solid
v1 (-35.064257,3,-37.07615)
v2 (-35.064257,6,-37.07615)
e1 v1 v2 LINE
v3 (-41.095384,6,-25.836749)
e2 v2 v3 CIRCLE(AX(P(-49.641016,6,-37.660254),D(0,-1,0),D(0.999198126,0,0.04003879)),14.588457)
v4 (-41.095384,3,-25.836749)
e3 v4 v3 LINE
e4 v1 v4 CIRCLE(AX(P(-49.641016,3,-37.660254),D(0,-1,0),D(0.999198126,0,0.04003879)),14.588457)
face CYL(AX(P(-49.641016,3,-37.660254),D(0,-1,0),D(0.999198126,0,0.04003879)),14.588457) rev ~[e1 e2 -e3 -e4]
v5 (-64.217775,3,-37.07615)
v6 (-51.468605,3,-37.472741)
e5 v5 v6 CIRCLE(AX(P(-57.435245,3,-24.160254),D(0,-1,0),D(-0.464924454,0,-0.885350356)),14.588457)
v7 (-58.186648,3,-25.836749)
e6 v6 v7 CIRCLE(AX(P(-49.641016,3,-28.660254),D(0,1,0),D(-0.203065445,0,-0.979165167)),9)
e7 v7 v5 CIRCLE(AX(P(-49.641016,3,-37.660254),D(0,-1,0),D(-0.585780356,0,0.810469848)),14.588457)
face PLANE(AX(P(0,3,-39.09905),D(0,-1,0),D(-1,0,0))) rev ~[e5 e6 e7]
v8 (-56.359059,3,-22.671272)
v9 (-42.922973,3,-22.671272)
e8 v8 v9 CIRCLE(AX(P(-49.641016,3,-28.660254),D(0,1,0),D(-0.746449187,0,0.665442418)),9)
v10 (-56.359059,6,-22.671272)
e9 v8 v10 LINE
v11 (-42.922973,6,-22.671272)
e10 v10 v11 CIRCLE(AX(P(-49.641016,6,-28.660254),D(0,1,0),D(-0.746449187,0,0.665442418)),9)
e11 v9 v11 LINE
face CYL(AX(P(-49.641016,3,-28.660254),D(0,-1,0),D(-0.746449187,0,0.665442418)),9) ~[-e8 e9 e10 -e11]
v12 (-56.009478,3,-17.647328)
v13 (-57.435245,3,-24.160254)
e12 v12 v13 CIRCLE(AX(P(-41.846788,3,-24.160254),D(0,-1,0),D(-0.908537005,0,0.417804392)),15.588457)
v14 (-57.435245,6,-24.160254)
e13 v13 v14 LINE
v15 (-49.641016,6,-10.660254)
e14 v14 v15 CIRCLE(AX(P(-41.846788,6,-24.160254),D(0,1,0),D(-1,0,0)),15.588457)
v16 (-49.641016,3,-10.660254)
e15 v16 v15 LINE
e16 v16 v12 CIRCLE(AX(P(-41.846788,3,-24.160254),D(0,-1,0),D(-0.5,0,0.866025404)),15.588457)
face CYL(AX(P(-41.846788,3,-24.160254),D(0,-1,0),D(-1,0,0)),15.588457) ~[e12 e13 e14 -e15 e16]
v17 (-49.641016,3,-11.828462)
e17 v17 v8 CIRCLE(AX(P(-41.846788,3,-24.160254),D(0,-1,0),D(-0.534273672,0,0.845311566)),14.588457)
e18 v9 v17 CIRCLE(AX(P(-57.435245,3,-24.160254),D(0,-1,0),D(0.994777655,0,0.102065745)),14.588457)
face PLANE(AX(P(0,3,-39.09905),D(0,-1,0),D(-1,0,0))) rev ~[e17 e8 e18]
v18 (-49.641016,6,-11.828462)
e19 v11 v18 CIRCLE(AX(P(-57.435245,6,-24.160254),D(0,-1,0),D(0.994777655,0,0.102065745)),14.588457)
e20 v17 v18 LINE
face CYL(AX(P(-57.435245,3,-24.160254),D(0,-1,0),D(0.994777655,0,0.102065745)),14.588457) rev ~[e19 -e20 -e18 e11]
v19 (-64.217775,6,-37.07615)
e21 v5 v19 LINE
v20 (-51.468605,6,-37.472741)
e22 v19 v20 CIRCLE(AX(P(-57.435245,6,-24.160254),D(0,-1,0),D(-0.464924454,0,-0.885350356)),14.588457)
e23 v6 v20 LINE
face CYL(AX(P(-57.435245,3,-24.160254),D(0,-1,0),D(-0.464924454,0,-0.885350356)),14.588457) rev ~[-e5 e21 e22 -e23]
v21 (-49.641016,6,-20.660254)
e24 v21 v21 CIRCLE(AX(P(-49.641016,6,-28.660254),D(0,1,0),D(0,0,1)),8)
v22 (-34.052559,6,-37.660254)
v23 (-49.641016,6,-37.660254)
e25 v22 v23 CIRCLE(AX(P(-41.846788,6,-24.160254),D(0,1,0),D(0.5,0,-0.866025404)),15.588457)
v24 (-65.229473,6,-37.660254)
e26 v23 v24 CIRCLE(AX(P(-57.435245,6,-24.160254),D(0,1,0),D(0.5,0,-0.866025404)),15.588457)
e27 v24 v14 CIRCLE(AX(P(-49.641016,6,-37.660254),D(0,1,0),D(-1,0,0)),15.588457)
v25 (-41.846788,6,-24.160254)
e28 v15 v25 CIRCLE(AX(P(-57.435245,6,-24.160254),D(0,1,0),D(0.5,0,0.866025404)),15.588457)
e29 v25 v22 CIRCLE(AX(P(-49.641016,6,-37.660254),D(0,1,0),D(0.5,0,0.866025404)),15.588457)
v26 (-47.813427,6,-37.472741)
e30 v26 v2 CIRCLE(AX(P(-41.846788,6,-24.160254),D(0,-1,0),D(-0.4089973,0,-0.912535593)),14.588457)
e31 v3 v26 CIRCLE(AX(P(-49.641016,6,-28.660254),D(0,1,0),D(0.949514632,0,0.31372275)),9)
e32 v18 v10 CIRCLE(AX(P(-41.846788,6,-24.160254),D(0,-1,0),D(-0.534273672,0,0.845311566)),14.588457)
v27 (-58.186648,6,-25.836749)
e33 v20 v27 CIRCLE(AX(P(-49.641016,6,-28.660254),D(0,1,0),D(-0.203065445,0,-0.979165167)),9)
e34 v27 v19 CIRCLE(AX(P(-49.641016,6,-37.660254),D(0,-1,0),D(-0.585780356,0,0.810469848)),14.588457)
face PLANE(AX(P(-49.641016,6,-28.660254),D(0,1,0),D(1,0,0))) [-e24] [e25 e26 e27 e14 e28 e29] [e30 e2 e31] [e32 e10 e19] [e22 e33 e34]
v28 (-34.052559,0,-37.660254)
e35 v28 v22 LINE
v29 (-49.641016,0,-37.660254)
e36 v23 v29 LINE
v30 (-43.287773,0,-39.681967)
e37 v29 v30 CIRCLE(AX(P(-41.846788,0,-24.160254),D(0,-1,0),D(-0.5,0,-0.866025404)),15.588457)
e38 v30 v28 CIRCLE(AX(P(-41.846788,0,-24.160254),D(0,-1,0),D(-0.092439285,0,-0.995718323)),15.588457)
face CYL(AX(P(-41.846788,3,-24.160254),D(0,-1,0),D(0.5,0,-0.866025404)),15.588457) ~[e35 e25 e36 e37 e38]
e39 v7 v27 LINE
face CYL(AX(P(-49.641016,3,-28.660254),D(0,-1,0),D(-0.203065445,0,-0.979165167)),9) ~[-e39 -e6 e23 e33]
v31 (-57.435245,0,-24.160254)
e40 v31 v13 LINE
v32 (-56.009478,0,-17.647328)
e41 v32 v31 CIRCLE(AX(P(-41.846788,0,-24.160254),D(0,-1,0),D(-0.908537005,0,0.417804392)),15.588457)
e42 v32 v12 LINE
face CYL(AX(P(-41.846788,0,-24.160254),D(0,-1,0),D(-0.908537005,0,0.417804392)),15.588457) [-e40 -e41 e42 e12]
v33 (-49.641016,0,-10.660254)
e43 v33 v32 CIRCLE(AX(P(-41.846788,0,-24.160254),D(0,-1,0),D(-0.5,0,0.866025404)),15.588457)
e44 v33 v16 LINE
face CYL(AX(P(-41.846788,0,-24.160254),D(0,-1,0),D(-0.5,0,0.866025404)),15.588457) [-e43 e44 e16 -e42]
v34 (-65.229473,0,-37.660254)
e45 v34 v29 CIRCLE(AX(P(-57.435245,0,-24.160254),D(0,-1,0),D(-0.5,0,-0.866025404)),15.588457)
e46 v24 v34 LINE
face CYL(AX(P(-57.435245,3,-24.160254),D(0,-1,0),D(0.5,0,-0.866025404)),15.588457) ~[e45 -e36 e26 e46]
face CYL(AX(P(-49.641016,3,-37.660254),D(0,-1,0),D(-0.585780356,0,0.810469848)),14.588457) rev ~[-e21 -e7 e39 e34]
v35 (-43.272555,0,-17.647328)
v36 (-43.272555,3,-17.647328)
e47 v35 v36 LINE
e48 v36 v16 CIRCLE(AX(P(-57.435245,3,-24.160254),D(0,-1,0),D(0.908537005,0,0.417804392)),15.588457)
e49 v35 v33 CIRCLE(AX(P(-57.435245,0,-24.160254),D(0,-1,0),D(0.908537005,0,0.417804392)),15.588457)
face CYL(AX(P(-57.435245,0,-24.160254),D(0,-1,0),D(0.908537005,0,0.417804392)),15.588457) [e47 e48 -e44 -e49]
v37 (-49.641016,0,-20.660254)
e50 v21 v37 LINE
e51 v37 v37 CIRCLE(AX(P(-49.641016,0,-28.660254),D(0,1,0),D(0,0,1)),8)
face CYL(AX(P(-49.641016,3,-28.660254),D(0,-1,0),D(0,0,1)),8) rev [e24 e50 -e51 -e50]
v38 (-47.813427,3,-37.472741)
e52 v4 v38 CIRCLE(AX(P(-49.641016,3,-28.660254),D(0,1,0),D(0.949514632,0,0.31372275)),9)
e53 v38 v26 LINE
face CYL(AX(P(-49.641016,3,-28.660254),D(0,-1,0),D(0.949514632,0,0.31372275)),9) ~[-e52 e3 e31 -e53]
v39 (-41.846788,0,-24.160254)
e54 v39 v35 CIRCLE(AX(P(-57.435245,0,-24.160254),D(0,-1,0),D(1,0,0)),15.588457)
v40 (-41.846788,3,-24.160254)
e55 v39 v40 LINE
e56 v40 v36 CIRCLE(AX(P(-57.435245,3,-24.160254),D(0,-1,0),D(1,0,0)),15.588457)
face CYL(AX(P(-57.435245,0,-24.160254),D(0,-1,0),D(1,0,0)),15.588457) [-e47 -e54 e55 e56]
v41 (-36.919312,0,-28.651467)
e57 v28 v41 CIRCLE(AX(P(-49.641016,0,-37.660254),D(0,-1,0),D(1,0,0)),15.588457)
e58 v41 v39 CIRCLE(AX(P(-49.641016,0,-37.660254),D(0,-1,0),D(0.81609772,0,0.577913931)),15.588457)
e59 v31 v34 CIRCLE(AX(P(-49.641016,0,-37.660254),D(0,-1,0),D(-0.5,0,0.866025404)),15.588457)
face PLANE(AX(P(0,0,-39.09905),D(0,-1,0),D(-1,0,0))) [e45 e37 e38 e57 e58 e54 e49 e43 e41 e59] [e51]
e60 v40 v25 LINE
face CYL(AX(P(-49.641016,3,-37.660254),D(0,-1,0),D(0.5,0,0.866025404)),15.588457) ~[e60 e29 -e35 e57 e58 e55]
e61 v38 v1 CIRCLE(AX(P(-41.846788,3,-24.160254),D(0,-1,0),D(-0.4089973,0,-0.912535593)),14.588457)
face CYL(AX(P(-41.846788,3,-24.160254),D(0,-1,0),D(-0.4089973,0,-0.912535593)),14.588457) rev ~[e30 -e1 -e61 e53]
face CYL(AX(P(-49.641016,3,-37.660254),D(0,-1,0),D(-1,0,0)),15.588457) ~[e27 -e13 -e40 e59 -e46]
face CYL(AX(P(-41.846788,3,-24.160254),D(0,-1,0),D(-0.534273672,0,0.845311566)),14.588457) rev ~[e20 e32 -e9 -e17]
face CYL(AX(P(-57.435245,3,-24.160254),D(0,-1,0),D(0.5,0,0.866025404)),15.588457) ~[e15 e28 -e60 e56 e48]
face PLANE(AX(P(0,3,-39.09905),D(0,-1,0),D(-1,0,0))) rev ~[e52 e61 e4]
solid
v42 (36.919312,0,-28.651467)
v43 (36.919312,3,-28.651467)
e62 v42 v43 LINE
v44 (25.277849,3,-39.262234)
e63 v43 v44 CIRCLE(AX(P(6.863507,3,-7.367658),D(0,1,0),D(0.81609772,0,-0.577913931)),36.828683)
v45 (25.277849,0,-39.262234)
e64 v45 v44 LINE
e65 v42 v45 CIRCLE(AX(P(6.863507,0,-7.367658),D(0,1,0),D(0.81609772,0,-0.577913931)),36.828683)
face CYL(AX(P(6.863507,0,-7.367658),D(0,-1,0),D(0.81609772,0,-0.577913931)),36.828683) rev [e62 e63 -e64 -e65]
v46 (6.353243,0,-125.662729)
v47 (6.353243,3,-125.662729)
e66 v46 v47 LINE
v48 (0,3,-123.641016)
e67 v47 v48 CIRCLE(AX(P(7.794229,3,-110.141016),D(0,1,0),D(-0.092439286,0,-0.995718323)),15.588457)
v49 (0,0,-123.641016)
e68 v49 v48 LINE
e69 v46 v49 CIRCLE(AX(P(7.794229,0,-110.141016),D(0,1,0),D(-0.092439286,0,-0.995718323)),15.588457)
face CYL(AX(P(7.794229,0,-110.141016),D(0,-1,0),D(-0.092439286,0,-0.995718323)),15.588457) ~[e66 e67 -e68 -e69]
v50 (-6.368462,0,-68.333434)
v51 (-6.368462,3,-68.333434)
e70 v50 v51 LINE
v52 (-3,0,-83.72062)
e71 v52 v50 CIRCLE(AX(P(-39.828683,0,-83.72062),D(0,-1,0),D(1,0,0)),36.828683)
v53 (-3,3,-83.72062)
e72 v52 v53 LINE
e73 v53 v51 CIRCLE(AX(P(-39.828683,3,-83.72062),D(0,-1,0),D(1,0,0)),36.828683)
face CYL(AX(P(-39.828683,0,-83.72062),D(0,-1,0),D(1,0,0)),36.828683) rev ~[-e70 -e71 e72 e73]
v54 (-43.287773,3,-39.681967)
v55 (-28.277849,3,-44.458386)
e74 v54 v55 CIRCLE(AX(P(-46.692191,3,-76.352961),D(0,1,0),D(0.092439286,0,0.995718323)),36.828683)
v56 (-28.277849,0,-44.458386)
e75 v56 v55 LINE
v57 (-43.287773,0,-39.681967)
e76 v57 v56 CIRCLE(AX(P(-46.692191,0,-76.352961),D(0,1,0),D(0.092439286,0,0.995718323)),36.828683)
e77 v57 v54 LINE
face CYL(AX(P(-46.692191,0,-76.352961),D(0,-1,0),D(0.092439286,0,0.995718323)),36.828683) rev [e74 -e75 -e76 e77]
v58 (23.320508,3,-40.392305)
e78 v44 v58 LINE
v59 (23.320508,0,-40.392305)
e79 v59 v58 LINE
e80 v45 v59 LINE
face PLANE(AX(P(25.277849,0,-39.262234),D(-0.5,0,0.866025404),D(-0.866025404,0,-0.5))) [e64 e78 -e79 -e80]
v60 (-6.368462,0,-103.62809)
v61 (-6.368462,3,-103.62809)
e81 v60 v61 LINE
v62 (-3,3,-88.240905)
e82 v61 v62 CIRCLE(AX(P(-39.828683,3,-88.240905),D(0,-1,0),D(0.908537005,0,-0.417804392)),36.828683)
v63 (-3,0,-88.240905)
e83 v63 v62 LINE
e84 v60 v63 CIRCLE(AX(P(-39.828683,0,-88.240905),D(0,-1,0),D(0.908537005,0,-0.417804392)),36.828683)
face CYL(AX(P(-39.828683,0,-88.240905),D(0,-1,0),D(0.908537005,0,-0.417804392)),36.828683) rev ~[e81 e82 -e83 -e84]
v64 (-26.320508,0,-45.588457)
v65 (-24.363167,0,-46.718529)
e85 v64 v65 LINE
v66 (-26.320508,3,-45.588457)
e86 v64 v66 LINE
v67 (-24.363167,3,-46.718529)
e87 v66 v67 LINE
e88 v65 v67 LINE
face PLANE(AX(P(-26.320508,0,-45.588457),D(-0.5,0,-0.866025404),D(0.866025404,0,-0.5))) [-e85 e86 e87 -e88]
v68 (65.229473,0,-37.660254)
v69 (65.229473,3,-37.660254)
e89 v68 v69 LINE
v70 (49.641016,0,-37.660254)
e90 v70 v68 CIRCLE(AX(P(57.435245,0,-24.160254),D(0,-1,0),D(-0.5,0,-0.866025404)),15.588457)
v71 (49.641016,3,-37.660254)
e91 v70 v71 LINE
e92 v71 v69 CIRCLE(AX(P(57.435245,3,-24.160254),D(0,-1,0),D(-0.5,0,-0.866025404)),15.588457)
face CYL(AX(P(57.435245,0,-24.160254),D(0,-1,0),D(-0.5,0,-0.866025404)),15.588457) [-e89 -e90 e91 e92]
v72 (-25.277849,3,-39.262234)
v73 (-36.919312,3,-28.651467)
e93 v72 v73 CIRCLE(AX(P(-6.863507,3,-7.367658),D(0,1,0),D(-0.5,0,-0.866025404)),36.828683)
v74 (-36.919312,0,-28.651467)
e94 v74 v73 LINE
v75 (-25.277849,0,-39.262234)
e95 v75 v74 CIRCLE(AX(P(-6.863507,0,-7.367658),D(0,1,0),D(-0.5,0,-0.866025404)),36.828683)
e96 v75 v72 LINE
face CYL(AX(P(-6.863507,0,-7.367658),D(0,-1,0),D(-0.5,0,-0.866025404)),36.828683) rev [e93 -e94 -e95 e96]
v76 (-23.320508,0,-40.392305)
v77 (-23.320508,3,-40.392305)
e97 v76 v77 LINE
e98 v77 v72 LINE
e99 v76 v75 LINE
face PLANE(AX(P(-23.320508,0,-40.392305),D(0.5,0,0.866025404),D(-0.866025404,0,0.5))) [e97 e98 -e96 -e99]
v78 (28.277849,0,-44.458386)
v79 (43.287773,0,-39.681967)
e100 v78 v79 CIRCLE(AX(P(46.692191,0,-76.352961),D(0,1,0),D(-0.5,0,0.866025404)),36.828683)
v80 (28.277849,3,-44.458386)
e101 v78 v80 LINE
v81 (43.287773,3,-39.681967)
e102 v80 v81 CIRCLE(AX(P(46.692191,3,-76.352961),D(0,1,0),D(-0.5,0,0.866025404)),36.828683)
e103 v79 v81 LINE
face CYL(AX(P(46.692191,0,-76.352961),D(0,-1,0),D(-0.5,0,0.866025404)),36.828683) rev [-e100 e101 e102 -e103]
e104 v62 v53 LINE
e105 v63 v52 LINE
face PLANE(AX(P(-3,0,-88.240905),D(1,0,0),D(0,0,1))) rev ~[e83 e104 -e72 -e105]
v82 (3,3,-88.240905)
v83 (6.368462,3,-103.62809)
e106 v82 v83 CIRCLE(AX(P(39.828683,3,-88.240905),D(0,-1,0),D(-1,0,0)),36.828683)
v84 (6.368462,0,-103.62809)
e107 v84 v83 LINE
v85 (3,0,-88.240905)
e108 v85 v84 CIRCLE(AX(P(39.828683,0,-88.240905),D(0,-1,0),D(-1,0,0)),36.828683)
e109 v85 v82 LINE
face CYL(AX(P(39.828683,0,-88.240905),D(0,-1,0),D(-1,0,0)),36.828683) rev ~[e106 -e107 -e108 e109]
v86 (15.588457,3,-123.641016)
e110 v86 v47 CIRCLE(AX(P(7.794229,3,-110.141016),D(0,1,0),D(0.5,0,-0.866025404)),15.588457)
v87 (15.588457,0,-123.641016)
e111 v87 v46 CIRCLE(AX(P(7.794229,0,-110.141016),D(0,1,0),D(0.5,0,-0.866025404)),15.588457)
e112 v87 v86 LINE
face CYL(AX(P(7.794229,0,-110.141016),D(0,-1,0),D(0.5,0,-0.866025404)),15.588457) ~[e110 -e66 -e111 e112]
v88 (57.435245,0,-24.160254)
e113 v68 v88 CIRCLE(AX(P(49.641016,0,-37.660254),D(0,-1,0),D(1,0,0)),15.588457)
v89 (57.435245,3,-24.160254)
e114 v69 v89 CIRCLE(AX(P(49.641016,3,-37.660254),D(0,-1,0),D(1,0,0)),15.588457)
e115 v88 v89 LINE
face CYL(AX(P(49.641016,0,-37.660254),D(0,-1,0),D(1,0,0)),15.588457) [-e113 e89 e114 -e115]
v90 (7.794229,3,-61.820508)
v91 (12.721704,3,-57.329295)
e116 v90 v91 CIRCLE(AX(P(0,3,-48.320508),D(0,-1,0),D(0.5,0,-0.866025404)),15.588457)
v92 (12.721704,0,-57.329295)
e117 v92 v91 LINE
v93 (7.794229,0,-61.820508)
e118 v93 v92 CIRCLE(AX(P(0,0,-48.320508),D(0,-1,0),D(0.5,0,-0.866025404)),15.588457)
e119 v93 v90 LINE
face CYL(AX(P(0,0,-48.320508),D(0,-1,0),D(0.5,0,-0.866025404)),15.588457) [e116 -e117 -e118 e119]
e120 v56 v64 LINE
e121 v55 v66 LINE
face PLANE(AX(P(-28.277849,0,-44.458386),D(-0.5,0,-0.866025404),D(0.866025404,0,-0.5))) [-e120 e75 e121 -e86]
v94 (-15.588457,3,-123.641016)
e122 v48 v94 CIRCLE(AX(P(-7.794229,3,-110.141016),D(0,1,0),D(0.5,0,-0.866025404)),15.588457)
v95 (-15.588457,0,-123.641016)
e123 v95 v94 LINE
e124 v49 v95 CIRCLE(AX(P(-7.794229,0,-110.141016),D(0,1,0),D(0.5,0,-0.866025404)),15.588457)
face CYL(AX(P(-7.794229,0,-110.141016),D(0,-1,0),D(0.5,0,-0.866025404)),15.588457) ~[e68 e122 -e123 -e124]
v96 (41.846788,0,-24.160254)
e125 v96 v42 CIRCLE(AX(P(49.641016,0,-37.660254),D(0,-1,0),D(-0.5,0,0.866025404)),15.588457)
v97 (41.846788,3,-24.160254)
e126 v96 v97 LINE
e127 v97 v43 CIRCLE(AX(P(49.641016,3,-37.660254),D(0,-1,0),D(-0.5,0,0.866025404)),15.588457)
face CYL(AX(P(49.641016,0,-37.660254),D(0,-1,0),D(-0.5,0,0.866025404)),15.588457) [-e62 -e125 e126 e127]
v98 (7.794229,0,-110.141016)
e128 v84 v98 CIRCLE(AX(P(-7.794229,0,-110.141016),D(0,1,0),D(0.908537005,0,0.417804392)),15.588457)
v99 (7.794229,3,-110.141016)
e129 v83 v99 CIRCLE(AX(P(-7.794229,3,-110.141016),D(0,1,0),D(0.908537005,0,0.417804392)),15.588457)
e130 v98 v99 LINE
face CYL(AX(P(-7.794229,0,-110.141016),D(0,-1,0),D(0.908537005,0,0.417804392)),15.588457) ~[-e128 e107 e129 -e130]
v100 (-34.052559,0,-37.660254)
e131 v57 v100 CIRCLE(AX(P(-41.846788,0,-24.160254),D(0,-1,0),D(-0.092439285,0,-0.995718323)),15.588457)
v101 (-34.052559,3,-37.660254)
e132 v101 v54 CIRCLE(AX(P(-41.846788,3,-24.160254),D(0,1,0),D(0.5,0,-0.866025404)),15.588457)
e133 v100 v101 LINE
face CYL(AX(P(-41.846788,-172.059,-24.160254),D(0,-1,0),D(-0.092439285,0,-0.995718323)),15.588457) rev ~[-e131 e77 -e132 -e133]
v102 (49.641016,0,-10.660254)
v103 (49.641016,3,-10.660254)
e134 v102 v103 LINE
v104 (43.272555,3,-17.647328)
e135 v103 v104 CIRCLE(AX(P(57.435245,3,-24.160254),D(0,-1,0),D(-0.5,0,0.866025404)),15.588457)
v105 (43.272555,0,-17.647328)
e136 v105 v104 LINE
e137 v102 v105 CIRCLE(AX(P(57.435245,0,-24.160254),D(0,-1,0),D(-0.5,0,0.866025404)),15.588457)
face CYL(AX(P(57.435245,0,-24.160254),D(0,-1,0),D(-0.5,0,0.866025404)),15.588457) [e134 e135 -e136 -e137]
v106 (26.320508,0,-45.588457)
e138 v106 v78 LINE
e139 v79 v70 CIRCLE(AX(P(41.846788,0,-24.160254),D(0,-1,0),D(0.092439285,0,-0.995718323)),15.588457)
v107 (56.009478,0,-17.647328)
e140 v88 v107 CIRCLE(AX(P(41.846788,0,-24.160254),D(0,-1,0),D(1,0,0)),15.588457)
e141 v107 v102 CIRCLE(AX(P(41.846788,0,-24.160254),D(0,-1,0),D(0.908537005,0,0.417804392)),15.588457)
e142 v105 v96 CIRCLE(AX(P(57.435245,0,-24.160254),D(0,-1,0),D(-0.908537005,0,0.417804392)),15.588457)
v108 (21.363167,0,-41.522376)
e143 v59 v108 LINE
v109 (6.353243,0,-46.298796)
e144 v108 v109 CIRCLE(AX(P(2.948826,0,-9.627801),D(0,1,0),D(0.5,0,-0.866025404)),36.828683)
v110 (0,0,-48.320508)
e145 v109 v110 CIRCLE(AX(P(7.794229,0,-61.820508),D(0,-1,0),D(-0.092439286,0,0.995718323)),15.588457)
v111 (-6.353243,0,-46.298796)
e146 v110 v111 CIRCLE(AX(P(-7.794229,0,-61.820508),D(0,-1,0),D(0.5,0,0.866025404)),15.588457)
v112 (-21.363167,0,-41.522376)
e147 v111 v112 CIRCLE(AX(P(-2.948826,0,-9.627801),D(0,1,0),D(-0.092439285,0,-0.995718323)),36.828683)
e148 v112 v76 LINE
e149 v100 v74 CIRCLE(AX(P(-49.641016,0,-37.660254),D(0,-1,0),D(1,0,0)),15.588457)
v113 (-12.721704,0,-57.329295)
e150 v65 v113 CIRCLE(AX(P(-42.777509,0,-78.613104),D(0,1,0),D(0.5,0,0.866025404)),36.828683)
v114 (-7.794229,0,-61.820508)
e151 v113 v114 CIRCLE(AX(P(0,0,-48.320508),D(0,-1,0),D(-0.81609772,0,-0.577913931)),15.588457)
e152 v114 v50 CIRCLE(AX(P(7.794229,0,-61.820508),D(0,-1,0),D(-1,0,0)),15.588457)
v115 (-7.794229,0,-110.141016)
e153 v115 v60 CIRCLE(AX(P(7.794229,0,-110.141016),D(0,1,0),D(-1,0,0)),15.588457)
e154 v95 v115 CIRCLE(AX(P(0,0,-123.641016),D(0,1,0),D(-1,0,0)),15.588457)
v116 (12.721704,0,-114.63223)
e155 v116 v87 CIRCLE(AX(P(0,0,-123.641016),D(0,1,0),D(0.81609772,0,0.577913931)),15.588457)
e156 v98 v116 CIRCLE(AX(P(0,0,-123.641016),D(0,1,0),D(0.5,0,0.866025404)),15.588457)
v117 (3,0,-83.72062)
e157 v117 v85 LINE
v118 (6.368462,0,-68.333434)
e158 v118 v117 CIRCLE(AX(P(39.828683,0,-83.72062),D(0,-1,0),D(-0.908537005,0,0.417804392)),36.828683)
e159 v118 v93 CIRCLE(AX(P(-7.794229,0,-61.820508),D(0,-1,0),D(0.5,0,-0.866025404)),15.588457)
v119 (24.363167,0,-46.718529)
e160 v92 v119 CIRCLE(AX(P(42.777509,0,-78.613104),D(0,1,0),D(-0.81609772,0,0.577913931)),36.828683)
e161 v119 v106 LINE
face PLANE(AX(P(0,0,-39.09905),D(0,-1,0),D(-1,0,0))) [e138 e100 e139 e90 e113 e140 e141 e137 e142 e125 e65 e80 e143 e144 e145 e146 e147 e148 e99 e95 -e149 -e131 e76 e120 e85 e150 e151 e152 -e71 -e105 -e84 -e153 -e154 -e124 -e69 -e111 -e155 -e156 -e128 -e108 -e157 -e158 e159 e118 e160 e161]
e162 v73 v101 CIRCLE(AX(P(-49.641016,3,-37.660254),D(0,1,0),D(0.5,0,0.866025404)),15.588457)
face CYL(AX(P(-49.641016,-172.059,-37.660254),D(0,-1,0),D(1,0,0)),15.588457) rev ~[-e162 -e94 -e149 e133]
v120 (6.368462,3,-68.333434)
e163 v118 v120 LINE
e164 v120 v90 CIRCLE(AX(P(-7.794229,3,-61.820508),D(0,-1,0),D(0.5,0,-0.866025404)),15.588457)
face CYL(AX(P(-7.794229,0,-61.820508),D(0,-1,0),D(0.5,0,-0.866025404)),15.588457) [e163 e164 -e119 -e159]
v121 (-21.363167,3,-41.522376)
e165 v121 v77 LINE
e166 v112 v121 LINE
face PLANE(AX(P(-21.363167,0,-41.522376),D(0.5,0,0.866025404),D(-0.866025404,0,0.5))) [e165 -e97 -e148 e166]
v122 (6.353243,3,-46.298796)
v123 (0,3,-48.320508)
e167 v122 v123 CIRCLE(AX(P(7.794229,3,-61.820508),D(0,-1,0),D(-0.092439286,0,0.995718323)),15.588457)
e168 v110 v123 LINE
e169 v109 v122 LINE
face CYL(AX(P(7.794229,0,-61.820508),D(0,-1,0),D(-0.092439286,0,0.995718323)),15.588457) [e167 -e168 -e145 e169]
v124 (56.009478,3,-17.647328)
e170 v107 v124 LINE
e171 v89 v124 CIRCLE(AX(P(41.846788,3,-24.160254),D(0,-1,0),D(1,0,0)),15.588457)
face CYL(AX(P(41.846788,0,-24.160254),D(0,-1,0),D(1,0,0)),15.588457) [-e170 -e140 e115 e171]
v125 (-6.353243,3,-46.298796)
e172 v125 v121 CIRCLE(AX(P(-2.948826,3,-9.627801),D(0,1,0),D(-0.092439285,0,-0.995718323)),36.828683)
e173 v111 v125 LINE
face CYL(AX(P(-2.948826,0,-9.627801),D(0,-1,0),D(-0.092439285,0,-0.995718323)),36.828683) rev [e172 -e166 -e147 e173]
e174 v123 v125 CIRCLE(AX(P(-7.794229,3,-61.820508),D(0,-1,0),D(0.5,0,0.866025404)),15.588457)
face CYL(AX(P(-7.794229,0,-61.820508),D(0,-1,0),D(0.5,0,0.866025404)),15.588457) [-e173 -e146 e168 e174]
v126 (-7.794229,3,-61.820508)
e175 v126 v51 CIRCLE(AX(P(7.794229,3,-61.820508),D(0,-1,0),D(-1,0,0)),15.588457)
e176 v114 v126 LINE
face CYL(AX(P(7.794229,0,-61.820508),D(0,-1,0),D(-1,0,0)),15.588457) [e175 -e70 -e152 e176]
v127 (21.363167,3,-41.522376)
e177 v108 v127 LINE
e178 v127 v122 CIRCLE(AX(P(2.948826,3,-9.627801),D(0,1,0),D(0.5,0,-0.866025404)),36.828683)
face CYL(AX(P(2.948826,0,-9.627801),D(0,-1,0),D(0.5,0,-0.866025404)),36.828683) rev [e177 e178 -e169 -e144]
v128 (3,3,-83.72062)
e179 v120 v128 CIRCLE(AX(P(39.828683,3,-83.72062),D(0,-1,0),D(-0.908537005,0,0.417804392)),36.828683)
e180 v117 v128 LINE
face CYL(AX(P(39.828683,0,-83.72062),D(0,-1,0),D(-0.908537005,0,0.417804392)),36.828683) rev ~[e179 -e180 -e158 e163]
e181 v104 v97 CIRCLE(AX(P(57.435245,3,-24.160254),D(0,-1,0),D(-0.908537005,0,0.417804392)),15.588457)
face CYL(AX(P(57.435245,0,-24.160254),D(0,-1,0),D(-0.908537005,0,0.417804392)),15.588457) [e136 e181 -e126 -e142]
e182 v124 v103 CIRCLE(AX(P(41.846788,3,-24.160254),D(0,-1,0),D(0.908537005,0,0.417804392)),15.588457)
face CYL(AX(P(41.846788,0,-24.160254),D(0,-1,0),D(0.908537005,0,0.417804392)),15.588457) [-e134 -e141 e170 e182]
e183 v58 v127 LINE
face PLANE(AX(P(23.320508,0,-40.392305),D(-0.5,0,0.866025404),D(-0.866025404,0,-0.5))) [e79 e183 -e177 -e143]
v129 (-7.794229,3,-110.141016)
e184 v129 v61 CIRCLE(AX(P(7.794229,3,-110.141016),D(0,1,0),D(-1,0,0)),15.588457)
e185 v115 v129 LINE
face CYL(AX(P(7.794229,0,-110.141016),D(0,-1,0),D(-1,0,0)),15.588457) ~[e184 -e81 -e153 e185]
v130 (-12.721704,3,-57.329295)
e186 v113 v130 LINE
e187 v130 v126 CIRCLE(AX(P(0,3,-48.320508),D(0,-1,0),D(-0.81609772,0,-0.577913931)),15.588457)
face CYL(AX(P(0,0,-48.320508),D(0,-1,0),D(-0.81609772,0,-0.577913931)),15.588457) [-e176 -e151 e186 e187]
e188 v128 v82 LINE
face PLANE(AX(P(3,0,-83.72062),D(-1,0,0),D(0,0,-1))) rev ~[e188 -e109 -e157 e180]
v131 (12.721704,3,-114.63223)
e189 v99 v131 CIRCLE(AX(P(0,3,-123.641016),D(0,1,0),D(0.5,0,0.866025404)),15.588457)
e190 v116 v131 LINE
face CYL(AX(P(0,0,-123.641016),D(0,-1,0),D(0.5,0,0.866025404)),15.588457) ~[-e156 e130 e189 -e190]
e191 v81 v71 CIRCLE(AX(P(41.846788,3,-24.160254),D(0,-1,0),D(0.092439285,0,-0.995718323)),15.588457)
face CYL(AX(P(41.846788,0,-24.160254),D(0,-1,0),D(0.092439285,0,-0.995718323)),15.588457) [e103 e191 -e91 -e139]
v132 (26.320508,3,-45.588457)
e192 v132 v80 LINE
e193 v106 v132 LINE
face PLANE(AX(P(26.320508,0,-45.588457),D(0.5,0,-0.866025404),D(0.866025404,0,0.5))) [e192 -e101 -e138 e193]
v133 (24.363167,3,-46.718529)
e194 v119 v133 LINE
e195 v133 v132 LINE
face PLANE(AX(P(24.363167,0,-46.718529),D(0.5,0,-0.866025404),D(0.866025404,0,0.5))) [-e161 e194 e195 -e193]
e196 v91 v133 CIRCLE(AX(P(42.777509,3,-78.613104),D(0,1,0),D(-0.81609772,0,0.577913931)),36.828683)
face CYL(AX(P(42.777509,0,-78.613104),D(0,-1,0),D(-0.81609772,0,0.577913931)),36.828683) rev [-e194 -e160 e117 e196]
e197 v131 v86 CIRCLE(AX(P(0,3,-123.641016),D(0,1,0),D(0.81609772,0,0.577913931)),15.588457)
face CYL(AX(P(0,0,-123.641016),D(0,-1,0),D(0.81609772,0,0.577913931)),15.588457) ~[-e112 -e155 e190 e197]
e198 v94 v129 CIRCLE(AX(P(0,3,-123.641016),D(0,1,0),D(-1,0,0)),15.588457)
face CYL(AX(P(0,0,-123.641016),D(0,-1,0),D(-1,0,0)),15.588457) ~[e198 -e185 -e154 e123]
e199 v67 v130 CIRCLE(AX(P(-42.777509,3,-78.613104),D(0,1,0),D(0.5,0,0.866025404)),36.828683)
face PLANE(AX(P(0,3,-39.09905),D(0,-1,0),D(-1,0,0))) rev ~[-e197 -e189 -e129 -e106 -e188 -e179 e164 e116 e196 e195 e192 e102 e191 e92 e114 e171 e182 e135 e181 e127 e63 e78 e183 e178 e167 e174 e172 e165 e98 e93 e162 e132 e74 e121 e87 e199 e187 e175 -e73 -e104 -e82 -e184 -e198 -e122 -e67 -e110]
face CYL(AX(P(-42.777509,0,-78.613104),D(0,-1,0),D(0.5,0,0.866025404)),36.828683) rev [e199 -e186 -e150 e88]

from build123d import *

# Parameters (mm, degrees)
BOSS_EXTRUDE2_DEPTH    = 3
SKETCH12_R             = 8
BOSS_EXTRUDE3_DEPTH    = 3
CUT_EXTRUDE1_START     = -3
SKETCH15_R             = 8
CUT_EXTRUDE1_DEPTH     = 3
SPLIT1_SURFACE_1_BACK  = 175.059
SPLIT1_SURFACE_1_DEPTH = 350.118
SPLIT1_SURFACE_2_BACK  = 175.059
SPLIT1_SURFACE_2_DEPTH = 350.118


with BuildPart() as part:
    # Sketch3 → Boss-Extrude2 (new body)
    with BuildSketch(Plane(origin=(0, 0, 0), x_dir=(1, 0, 0), z_dir=(0, 1, 0))):
        with BuildLine():
            ThreePointArc((-49.641016151, 10.660254038), (-53.367697775, 13.659367084), (-56.009477801, 17.647328127))
            ThreePointArc((-56.009477801, 17.647328127), (-57.074631953, 20.826674302), (-57.435244785, 24.160254038))
            ThreePointArc((-57.435244785, 24.160254038), (-63.141016151, 29.866025404), (-65.229473419, 37.660254038))
            ThreePointArc((-65.229473419, 37.660254038), (-57.435244785, 39.748711306), (-49.641016151, 37.660254038))
            ThreePointArc((-49.641016151, 37.660254038), (-46.573744998, 39.014744032), (-43.287773367, 39.681966565))
            ThreePointArc((-43.287773367, 39.681966565), (-35.524464535, 41.258320585), (-28.27784895, 44.458385987))
            Line((-28.27784895, 44.458385987), (-26.320508076, 45.588457268))
            Line((-26.320508076, 45.588457268), (-24.363167201, 46.718528549))
            ThreePointArc((-24.363167201, 46.718528549), (-17.968521476, 51.394249035), (-12.721704434, 57.329294692))
            ThreePointArc((-12.721704434, 57.329294692), (-10.500886954, 59.841418334), (-7.794228634, 61.820508076))
            ThreePointArc((-7.794228634, 61.820508076), (-5.705771366, 69.61473671), (0, 75.320508076))
            ThreePointArc((0, 75.320508076), (5.705771366, 69.61473671), (7.794228634, 61.820508076))
            ThreePointArc((7.794228634, 61.820508076), (10.500886954, 59.841418334), (12.721704434, 57.329294692))
            ThreePointArc((12.721704434, 57.329294692), (17.968521476, 51.394249035), (24.363167201, 46.718528549))
            Line((24.363167201, 46.718528549), (26.320508076, 45.588457268))
            Line((26.320508076, 45.588457268), (28.27784895, 44.458385987))
            ThreePointArc((28.27784895, 44.458385987), (35.524464535, 41.258320585), (43.287773367, 39.681966565))
            ThreePointArc((43.287773367, 39.681966565), (46.573744998, 39.014744032), (49.641016151, 37.660254038))
            ThreePointArc((49.641016151, 37.660254038), (57.435244785, 39.748711306), (65.229473419, 37.660254038))
            ThreePointArc((65.229473419, 37.660254038), (63.141016151, 29.866025404), (57.435244785, 24.160254038))
            ThreePointArc((57.435244785, 24.160254038), (57.074631953, 20.826674302), (56.009477801, 17.647328127))
            ThreePointArc((56.009477801, 17.647328127), (53.367697775, 13.659367084), (49.641016151, 10.660254038))
            ThreePointArc((49.641016151, 10.660254038), (45.914334527, 13.659367084), (43.272554502, 17.647328127))
            ThreePointArc((43.272554502, 17.647328127), (42.20740035, 20.826674302), (41.846787517, 24.160254038))
            ThreePointArc((41.846787517, 24.160254038), (39.140129197, 26.13934378), (36.919311718, 28.651467422))
            ThreePointArc((36.919311718, 28.651467422), (31.672494675, 34.586513078), (25.27784895, 39.262233565))
            Line((25.27784895, 39.262233565), (23.320508076, 40.392304845))
            Line((23.320508076, 40.392304845), (21.363167201, 41.522376126))
            ThreePointArc((21.363167201, 41.522376126), (14.116551616, 44.722441529), (6.353242784, 46.298795548))
            ThreePointArc((6.353242784, 46.298795548), (3.067271153, 46.966018082), (0, 48.320508076))
            ThreePointArc((0, 48.320508076), (-3.067271153, 46.966018082), (-6.353242784, 46.298795548))
            ThreePointArc((-6.353242784, 46.298795548), (-14.116551616, 44.722441529), (-21.363167201, 41.522376126))
            Line((-21.363167201, 41.522376126), (-23.320508076, 40.392304845))
            Line((-23.320508076, 40.392304845), (-25.27784895, 39.262233565))
            ThreePointArc((-25.27784895, 39.262233565), (-31.672494675, 34.586513078), (-36.919311718, 28.651467422))
            ThreePointArc((-36.919311718, 28.651467422), (-39.140129197, 26.13934378), (-41.846787517, 24.160254038))
            ThreePointArc((-41.846787517, 24.160254038), (-42.20740035, 20.826674302), (-43.272554502, 17.647328127))
            ThreePointArc((-43.272554502, 17.647328127), (-45.914334527, 13.659367084), (-49.641016151, 10.660254038))
        make_face()
        with BuildLine():
            Line((-3, 85.980762114), (-3, 83.720619552))
            ThreePointArc((-3, 83.720619552), (-3.85196986, 75.844833663), (-6.36846165, 68.333433987))
            ThreePointArc((-6.36846165, 68.333433987), (-3.726681624, 72.32139503), (0, 75.320508076))
            ThreePointArc((0, 75.320508076), (3.726681624, 72.32139503), (6.36846165, 68.333433987))
            ThreePointArc((6.36846165, 68.333433987), (3.85196986, 75.844833663), (3, 83.720619552))
            Line((3, 83.720619552), (3, 85.980762114))
            Line((3, 85.980762114), (3, 88.240904675))
            ThreePointArc((3, 88.240904675), (3.85196986, 96.116690564), (6.36846165, 103.62809024))
            ThreePointArc((6.36846165, 103.62809024), (7.433615801, 106.807436416), (7.794228634, 110.141016151))
            ThreePointArc((7.794228634, 110.141016151), (10.500886954, 112.120105893), (12.721704434, 114.632229535))
            ThreePointArc((12.721704434, 114.632229535), (14.854489994, 118.91405867), (15.588457268, 123.641016151))
            ThreePointArc((15.588457268, 123.641016151), (11.12780837, 125.368860587), (6.353242784, 125.662728679))
            ThreePointArc((6.353242784, 125.662728679), (3.067271153, 124.995506145), (0, 123.641016151))
            ThreePointArc((0, 123.641016151), (-7.794228634, 125.729473419), (-15.588457268, 123.641016151))
            ThreePointArc((-15.588457268, 123.641016151), (-13.5, 115.846787517), (-7.794228634, 110.141016151))
            ThreePointArc((-7.794228634, 110.141016151), (-7.433615801, 106.807436416), (-6.36846165, 103.62809024))
            ThreePointArc((-6.36846165, 103.62809024), (-3.85196986, 96.116690564), (-3, 88.240904675))
            Line((-3, 88.240904675), (-3, 85.980762114))
        make_face()
    extrude(amount=BOSS_EXTRUDE2_DEPTH)

    # Sketch12 → Boss-Extrude3 (add)
    with BuildSketch(Plane(origin=(0, 3, 0), x_dir=(1, 0, 0), z_dir=(0, 1, 0))):
        with BuildLine():
            ThreePointArc((-57.435244785, 24.160254038), (-55.346787517, 16.366025404), (-49.641016151, 10.660254038))
            ThreePointArc((-49.641016151, 10.660254038), (-43.935244785, 16.366025404), (-41.846787517, 24.160254038))
            ThreePointArc((-41.846787517, 24.160254038), (-36.141016151, 29.866025404), (-34.052558883, 37.660254038))
            ThreePointArc((-34.052558883, 37.660254038), (-41.846787517, 39.748711306), (-49.641016151, 37.660254038))
            ThreePointArc((-49.641016151, 37.660254038), (-57.435244785, 39.748711306), (-65.229473419, 37.660254038))
            ThreePointArc((-65.229473419, 37.660254038), (-63.141016151, 29.866025404), (-57.435244785, 24.160254038))
        make_face()
        with BuildLine():
            ThreePointArc((-41.095384464, 25.83674929), (-41.846787517, 33.160254038), (-47.813427147, 37.472740545))
            ThreePointArc((-47.813427147, 37.472740545), (-41.393201216, 38.741658117), (-35.064256985, 37.076149866))
            ThreePointArc((-35.064256985, 37.076149866), (-36.786356645, 30.762369258), (-41.095384464, 25.83674929))
        make_face(mode=Mode.SUBTRACT)
        with BuildLine():
            ThreePointArc((-42.922973468, 22.671272279), (-45.03417158, 16.476734738), (-49.641016151, 11.828462381))
            ThreePointArc((-49.641016151, 11.828462381), (-54.247860722, 16.476734738), (-56.359058835, 22.671272279))
            ThreePointArc((-56.359058835, 22.671272279), (-49.641016151, 19.660254038), (-42.922973468, 22.671272279))
        make_face(mode=Mode.SUBTRACT)
        with BuildLine():
            ThreePointArc((-51.468605156, 37.472740545), (-57.435244785, 33.160254038), (-58.186647839, 25.83674929))
            ThreePointArc((-58.186647839, 25.83674929), (-62.495675658, 30.762369258), (-64.217775317, 37.076149866))
            ThreePointArc((-64.217775317, 37.076149866), (-57.888831087, 38.741658117), (-51.468605156, 37.472740545))
        make_face(mode=Mode.SUBTRACT)
        with Locations(Location((-49.641016151, 28.660254038, 0), (0, 0, 270))):
            Circle(SKETCH12_R, mode=Mode.SUBTRACT)
    extrude(amount=BOSS_EXTRUDE3_DEPTH)

    # Sketch15 → Cut-Extrude1 (cut)
    with BuildSketch(Plane(origin=(0, 3, 0), x_dir=(1, 0, 0), z_dir=(0, 1, 0)).offset(CUT_EXTRUDE1_START)):
        with Locations(Location((-49.641016151, 28.660254038, 0), (0, 0, 270))):
            Circle(SKETCH15_R)
    extrude(amount=CUT_EXTRUDE1_DEPTH, mode=Mode.SUBTRACT)


with BuildPart() as body_2:
    # Split1: the piece behind the surface
    add(part.part)
    # Split1 surface: a surface, the sketch's curves swept straight by 350.118 mm
    with BuildLine(Plane(origin=(0, 3, 0), x_dir=(1, 0, 0), z_dir=(0, 1, 0)).offset(-SPLIT1_SURFACE_1_BACK), mode=Mode.PRIVATE) as split1_surface_1_path:
        ThreePointArc((-43.287773367, 39.681966565), (-38.513207782, 39.388098473), (-34.052558883, 37.660254038))
        ThreePointArc((-34.052558883, 37.660254038), (-34.786526158, 32.933296557), (-36.919311718, 28.651467422))
    split1_surface_1 = Shell.extrude(split1_surface_1_path.wire(), (0 * SPLIT1_SURFACE_1_DEPTH, 1 * SPLIT1_SURFACE_1_DEPTH, 0 * SPLIT1_SURFACE_1_DEPTH))
    split(bisect_by=split1_surface_1, keep=Keep.BOTTOM)


with BuildPart() as part_1:
    add(part.part)

    # Split1: split by a surface, the side it looks to stays
    # Split1 surface: a surface, the sketch's curves swept straight by 350.118 mm
    with BuildLine(Plane(origin=(0, 3, 0), x_dir=(1, 0, 0), z_dir=(0, 1, 0)).offset(-SPLIT1_SURFACE_2_BACK), mode=Mode.PRIVATE) as split1_surface_2_path:
        ThreePointArc((-43.287773367, 39.681966565), (-38.513207782, 39.388098473), (-34.052558883, 37.660254038))
        ThreePointArc((-34.052558883, 37.660254038), (-34.786526158, 32.933296557), (-36.919311718, 28.651467422))
    split1_surface_2 = Shell.extrude(split1_surface_2_path.wire(), (0 * SPLIT1_SURFACE_2_DEPTH, 1 * SPLIT1_SURFACE_2_DEPTH, 0 * SPLIT1_SURFACE_2_DEPTH))
    split(bisect_by=split1_surface_2, keep=Keep.TOP)


solid = Compound([body_2.part, part_1.part])
